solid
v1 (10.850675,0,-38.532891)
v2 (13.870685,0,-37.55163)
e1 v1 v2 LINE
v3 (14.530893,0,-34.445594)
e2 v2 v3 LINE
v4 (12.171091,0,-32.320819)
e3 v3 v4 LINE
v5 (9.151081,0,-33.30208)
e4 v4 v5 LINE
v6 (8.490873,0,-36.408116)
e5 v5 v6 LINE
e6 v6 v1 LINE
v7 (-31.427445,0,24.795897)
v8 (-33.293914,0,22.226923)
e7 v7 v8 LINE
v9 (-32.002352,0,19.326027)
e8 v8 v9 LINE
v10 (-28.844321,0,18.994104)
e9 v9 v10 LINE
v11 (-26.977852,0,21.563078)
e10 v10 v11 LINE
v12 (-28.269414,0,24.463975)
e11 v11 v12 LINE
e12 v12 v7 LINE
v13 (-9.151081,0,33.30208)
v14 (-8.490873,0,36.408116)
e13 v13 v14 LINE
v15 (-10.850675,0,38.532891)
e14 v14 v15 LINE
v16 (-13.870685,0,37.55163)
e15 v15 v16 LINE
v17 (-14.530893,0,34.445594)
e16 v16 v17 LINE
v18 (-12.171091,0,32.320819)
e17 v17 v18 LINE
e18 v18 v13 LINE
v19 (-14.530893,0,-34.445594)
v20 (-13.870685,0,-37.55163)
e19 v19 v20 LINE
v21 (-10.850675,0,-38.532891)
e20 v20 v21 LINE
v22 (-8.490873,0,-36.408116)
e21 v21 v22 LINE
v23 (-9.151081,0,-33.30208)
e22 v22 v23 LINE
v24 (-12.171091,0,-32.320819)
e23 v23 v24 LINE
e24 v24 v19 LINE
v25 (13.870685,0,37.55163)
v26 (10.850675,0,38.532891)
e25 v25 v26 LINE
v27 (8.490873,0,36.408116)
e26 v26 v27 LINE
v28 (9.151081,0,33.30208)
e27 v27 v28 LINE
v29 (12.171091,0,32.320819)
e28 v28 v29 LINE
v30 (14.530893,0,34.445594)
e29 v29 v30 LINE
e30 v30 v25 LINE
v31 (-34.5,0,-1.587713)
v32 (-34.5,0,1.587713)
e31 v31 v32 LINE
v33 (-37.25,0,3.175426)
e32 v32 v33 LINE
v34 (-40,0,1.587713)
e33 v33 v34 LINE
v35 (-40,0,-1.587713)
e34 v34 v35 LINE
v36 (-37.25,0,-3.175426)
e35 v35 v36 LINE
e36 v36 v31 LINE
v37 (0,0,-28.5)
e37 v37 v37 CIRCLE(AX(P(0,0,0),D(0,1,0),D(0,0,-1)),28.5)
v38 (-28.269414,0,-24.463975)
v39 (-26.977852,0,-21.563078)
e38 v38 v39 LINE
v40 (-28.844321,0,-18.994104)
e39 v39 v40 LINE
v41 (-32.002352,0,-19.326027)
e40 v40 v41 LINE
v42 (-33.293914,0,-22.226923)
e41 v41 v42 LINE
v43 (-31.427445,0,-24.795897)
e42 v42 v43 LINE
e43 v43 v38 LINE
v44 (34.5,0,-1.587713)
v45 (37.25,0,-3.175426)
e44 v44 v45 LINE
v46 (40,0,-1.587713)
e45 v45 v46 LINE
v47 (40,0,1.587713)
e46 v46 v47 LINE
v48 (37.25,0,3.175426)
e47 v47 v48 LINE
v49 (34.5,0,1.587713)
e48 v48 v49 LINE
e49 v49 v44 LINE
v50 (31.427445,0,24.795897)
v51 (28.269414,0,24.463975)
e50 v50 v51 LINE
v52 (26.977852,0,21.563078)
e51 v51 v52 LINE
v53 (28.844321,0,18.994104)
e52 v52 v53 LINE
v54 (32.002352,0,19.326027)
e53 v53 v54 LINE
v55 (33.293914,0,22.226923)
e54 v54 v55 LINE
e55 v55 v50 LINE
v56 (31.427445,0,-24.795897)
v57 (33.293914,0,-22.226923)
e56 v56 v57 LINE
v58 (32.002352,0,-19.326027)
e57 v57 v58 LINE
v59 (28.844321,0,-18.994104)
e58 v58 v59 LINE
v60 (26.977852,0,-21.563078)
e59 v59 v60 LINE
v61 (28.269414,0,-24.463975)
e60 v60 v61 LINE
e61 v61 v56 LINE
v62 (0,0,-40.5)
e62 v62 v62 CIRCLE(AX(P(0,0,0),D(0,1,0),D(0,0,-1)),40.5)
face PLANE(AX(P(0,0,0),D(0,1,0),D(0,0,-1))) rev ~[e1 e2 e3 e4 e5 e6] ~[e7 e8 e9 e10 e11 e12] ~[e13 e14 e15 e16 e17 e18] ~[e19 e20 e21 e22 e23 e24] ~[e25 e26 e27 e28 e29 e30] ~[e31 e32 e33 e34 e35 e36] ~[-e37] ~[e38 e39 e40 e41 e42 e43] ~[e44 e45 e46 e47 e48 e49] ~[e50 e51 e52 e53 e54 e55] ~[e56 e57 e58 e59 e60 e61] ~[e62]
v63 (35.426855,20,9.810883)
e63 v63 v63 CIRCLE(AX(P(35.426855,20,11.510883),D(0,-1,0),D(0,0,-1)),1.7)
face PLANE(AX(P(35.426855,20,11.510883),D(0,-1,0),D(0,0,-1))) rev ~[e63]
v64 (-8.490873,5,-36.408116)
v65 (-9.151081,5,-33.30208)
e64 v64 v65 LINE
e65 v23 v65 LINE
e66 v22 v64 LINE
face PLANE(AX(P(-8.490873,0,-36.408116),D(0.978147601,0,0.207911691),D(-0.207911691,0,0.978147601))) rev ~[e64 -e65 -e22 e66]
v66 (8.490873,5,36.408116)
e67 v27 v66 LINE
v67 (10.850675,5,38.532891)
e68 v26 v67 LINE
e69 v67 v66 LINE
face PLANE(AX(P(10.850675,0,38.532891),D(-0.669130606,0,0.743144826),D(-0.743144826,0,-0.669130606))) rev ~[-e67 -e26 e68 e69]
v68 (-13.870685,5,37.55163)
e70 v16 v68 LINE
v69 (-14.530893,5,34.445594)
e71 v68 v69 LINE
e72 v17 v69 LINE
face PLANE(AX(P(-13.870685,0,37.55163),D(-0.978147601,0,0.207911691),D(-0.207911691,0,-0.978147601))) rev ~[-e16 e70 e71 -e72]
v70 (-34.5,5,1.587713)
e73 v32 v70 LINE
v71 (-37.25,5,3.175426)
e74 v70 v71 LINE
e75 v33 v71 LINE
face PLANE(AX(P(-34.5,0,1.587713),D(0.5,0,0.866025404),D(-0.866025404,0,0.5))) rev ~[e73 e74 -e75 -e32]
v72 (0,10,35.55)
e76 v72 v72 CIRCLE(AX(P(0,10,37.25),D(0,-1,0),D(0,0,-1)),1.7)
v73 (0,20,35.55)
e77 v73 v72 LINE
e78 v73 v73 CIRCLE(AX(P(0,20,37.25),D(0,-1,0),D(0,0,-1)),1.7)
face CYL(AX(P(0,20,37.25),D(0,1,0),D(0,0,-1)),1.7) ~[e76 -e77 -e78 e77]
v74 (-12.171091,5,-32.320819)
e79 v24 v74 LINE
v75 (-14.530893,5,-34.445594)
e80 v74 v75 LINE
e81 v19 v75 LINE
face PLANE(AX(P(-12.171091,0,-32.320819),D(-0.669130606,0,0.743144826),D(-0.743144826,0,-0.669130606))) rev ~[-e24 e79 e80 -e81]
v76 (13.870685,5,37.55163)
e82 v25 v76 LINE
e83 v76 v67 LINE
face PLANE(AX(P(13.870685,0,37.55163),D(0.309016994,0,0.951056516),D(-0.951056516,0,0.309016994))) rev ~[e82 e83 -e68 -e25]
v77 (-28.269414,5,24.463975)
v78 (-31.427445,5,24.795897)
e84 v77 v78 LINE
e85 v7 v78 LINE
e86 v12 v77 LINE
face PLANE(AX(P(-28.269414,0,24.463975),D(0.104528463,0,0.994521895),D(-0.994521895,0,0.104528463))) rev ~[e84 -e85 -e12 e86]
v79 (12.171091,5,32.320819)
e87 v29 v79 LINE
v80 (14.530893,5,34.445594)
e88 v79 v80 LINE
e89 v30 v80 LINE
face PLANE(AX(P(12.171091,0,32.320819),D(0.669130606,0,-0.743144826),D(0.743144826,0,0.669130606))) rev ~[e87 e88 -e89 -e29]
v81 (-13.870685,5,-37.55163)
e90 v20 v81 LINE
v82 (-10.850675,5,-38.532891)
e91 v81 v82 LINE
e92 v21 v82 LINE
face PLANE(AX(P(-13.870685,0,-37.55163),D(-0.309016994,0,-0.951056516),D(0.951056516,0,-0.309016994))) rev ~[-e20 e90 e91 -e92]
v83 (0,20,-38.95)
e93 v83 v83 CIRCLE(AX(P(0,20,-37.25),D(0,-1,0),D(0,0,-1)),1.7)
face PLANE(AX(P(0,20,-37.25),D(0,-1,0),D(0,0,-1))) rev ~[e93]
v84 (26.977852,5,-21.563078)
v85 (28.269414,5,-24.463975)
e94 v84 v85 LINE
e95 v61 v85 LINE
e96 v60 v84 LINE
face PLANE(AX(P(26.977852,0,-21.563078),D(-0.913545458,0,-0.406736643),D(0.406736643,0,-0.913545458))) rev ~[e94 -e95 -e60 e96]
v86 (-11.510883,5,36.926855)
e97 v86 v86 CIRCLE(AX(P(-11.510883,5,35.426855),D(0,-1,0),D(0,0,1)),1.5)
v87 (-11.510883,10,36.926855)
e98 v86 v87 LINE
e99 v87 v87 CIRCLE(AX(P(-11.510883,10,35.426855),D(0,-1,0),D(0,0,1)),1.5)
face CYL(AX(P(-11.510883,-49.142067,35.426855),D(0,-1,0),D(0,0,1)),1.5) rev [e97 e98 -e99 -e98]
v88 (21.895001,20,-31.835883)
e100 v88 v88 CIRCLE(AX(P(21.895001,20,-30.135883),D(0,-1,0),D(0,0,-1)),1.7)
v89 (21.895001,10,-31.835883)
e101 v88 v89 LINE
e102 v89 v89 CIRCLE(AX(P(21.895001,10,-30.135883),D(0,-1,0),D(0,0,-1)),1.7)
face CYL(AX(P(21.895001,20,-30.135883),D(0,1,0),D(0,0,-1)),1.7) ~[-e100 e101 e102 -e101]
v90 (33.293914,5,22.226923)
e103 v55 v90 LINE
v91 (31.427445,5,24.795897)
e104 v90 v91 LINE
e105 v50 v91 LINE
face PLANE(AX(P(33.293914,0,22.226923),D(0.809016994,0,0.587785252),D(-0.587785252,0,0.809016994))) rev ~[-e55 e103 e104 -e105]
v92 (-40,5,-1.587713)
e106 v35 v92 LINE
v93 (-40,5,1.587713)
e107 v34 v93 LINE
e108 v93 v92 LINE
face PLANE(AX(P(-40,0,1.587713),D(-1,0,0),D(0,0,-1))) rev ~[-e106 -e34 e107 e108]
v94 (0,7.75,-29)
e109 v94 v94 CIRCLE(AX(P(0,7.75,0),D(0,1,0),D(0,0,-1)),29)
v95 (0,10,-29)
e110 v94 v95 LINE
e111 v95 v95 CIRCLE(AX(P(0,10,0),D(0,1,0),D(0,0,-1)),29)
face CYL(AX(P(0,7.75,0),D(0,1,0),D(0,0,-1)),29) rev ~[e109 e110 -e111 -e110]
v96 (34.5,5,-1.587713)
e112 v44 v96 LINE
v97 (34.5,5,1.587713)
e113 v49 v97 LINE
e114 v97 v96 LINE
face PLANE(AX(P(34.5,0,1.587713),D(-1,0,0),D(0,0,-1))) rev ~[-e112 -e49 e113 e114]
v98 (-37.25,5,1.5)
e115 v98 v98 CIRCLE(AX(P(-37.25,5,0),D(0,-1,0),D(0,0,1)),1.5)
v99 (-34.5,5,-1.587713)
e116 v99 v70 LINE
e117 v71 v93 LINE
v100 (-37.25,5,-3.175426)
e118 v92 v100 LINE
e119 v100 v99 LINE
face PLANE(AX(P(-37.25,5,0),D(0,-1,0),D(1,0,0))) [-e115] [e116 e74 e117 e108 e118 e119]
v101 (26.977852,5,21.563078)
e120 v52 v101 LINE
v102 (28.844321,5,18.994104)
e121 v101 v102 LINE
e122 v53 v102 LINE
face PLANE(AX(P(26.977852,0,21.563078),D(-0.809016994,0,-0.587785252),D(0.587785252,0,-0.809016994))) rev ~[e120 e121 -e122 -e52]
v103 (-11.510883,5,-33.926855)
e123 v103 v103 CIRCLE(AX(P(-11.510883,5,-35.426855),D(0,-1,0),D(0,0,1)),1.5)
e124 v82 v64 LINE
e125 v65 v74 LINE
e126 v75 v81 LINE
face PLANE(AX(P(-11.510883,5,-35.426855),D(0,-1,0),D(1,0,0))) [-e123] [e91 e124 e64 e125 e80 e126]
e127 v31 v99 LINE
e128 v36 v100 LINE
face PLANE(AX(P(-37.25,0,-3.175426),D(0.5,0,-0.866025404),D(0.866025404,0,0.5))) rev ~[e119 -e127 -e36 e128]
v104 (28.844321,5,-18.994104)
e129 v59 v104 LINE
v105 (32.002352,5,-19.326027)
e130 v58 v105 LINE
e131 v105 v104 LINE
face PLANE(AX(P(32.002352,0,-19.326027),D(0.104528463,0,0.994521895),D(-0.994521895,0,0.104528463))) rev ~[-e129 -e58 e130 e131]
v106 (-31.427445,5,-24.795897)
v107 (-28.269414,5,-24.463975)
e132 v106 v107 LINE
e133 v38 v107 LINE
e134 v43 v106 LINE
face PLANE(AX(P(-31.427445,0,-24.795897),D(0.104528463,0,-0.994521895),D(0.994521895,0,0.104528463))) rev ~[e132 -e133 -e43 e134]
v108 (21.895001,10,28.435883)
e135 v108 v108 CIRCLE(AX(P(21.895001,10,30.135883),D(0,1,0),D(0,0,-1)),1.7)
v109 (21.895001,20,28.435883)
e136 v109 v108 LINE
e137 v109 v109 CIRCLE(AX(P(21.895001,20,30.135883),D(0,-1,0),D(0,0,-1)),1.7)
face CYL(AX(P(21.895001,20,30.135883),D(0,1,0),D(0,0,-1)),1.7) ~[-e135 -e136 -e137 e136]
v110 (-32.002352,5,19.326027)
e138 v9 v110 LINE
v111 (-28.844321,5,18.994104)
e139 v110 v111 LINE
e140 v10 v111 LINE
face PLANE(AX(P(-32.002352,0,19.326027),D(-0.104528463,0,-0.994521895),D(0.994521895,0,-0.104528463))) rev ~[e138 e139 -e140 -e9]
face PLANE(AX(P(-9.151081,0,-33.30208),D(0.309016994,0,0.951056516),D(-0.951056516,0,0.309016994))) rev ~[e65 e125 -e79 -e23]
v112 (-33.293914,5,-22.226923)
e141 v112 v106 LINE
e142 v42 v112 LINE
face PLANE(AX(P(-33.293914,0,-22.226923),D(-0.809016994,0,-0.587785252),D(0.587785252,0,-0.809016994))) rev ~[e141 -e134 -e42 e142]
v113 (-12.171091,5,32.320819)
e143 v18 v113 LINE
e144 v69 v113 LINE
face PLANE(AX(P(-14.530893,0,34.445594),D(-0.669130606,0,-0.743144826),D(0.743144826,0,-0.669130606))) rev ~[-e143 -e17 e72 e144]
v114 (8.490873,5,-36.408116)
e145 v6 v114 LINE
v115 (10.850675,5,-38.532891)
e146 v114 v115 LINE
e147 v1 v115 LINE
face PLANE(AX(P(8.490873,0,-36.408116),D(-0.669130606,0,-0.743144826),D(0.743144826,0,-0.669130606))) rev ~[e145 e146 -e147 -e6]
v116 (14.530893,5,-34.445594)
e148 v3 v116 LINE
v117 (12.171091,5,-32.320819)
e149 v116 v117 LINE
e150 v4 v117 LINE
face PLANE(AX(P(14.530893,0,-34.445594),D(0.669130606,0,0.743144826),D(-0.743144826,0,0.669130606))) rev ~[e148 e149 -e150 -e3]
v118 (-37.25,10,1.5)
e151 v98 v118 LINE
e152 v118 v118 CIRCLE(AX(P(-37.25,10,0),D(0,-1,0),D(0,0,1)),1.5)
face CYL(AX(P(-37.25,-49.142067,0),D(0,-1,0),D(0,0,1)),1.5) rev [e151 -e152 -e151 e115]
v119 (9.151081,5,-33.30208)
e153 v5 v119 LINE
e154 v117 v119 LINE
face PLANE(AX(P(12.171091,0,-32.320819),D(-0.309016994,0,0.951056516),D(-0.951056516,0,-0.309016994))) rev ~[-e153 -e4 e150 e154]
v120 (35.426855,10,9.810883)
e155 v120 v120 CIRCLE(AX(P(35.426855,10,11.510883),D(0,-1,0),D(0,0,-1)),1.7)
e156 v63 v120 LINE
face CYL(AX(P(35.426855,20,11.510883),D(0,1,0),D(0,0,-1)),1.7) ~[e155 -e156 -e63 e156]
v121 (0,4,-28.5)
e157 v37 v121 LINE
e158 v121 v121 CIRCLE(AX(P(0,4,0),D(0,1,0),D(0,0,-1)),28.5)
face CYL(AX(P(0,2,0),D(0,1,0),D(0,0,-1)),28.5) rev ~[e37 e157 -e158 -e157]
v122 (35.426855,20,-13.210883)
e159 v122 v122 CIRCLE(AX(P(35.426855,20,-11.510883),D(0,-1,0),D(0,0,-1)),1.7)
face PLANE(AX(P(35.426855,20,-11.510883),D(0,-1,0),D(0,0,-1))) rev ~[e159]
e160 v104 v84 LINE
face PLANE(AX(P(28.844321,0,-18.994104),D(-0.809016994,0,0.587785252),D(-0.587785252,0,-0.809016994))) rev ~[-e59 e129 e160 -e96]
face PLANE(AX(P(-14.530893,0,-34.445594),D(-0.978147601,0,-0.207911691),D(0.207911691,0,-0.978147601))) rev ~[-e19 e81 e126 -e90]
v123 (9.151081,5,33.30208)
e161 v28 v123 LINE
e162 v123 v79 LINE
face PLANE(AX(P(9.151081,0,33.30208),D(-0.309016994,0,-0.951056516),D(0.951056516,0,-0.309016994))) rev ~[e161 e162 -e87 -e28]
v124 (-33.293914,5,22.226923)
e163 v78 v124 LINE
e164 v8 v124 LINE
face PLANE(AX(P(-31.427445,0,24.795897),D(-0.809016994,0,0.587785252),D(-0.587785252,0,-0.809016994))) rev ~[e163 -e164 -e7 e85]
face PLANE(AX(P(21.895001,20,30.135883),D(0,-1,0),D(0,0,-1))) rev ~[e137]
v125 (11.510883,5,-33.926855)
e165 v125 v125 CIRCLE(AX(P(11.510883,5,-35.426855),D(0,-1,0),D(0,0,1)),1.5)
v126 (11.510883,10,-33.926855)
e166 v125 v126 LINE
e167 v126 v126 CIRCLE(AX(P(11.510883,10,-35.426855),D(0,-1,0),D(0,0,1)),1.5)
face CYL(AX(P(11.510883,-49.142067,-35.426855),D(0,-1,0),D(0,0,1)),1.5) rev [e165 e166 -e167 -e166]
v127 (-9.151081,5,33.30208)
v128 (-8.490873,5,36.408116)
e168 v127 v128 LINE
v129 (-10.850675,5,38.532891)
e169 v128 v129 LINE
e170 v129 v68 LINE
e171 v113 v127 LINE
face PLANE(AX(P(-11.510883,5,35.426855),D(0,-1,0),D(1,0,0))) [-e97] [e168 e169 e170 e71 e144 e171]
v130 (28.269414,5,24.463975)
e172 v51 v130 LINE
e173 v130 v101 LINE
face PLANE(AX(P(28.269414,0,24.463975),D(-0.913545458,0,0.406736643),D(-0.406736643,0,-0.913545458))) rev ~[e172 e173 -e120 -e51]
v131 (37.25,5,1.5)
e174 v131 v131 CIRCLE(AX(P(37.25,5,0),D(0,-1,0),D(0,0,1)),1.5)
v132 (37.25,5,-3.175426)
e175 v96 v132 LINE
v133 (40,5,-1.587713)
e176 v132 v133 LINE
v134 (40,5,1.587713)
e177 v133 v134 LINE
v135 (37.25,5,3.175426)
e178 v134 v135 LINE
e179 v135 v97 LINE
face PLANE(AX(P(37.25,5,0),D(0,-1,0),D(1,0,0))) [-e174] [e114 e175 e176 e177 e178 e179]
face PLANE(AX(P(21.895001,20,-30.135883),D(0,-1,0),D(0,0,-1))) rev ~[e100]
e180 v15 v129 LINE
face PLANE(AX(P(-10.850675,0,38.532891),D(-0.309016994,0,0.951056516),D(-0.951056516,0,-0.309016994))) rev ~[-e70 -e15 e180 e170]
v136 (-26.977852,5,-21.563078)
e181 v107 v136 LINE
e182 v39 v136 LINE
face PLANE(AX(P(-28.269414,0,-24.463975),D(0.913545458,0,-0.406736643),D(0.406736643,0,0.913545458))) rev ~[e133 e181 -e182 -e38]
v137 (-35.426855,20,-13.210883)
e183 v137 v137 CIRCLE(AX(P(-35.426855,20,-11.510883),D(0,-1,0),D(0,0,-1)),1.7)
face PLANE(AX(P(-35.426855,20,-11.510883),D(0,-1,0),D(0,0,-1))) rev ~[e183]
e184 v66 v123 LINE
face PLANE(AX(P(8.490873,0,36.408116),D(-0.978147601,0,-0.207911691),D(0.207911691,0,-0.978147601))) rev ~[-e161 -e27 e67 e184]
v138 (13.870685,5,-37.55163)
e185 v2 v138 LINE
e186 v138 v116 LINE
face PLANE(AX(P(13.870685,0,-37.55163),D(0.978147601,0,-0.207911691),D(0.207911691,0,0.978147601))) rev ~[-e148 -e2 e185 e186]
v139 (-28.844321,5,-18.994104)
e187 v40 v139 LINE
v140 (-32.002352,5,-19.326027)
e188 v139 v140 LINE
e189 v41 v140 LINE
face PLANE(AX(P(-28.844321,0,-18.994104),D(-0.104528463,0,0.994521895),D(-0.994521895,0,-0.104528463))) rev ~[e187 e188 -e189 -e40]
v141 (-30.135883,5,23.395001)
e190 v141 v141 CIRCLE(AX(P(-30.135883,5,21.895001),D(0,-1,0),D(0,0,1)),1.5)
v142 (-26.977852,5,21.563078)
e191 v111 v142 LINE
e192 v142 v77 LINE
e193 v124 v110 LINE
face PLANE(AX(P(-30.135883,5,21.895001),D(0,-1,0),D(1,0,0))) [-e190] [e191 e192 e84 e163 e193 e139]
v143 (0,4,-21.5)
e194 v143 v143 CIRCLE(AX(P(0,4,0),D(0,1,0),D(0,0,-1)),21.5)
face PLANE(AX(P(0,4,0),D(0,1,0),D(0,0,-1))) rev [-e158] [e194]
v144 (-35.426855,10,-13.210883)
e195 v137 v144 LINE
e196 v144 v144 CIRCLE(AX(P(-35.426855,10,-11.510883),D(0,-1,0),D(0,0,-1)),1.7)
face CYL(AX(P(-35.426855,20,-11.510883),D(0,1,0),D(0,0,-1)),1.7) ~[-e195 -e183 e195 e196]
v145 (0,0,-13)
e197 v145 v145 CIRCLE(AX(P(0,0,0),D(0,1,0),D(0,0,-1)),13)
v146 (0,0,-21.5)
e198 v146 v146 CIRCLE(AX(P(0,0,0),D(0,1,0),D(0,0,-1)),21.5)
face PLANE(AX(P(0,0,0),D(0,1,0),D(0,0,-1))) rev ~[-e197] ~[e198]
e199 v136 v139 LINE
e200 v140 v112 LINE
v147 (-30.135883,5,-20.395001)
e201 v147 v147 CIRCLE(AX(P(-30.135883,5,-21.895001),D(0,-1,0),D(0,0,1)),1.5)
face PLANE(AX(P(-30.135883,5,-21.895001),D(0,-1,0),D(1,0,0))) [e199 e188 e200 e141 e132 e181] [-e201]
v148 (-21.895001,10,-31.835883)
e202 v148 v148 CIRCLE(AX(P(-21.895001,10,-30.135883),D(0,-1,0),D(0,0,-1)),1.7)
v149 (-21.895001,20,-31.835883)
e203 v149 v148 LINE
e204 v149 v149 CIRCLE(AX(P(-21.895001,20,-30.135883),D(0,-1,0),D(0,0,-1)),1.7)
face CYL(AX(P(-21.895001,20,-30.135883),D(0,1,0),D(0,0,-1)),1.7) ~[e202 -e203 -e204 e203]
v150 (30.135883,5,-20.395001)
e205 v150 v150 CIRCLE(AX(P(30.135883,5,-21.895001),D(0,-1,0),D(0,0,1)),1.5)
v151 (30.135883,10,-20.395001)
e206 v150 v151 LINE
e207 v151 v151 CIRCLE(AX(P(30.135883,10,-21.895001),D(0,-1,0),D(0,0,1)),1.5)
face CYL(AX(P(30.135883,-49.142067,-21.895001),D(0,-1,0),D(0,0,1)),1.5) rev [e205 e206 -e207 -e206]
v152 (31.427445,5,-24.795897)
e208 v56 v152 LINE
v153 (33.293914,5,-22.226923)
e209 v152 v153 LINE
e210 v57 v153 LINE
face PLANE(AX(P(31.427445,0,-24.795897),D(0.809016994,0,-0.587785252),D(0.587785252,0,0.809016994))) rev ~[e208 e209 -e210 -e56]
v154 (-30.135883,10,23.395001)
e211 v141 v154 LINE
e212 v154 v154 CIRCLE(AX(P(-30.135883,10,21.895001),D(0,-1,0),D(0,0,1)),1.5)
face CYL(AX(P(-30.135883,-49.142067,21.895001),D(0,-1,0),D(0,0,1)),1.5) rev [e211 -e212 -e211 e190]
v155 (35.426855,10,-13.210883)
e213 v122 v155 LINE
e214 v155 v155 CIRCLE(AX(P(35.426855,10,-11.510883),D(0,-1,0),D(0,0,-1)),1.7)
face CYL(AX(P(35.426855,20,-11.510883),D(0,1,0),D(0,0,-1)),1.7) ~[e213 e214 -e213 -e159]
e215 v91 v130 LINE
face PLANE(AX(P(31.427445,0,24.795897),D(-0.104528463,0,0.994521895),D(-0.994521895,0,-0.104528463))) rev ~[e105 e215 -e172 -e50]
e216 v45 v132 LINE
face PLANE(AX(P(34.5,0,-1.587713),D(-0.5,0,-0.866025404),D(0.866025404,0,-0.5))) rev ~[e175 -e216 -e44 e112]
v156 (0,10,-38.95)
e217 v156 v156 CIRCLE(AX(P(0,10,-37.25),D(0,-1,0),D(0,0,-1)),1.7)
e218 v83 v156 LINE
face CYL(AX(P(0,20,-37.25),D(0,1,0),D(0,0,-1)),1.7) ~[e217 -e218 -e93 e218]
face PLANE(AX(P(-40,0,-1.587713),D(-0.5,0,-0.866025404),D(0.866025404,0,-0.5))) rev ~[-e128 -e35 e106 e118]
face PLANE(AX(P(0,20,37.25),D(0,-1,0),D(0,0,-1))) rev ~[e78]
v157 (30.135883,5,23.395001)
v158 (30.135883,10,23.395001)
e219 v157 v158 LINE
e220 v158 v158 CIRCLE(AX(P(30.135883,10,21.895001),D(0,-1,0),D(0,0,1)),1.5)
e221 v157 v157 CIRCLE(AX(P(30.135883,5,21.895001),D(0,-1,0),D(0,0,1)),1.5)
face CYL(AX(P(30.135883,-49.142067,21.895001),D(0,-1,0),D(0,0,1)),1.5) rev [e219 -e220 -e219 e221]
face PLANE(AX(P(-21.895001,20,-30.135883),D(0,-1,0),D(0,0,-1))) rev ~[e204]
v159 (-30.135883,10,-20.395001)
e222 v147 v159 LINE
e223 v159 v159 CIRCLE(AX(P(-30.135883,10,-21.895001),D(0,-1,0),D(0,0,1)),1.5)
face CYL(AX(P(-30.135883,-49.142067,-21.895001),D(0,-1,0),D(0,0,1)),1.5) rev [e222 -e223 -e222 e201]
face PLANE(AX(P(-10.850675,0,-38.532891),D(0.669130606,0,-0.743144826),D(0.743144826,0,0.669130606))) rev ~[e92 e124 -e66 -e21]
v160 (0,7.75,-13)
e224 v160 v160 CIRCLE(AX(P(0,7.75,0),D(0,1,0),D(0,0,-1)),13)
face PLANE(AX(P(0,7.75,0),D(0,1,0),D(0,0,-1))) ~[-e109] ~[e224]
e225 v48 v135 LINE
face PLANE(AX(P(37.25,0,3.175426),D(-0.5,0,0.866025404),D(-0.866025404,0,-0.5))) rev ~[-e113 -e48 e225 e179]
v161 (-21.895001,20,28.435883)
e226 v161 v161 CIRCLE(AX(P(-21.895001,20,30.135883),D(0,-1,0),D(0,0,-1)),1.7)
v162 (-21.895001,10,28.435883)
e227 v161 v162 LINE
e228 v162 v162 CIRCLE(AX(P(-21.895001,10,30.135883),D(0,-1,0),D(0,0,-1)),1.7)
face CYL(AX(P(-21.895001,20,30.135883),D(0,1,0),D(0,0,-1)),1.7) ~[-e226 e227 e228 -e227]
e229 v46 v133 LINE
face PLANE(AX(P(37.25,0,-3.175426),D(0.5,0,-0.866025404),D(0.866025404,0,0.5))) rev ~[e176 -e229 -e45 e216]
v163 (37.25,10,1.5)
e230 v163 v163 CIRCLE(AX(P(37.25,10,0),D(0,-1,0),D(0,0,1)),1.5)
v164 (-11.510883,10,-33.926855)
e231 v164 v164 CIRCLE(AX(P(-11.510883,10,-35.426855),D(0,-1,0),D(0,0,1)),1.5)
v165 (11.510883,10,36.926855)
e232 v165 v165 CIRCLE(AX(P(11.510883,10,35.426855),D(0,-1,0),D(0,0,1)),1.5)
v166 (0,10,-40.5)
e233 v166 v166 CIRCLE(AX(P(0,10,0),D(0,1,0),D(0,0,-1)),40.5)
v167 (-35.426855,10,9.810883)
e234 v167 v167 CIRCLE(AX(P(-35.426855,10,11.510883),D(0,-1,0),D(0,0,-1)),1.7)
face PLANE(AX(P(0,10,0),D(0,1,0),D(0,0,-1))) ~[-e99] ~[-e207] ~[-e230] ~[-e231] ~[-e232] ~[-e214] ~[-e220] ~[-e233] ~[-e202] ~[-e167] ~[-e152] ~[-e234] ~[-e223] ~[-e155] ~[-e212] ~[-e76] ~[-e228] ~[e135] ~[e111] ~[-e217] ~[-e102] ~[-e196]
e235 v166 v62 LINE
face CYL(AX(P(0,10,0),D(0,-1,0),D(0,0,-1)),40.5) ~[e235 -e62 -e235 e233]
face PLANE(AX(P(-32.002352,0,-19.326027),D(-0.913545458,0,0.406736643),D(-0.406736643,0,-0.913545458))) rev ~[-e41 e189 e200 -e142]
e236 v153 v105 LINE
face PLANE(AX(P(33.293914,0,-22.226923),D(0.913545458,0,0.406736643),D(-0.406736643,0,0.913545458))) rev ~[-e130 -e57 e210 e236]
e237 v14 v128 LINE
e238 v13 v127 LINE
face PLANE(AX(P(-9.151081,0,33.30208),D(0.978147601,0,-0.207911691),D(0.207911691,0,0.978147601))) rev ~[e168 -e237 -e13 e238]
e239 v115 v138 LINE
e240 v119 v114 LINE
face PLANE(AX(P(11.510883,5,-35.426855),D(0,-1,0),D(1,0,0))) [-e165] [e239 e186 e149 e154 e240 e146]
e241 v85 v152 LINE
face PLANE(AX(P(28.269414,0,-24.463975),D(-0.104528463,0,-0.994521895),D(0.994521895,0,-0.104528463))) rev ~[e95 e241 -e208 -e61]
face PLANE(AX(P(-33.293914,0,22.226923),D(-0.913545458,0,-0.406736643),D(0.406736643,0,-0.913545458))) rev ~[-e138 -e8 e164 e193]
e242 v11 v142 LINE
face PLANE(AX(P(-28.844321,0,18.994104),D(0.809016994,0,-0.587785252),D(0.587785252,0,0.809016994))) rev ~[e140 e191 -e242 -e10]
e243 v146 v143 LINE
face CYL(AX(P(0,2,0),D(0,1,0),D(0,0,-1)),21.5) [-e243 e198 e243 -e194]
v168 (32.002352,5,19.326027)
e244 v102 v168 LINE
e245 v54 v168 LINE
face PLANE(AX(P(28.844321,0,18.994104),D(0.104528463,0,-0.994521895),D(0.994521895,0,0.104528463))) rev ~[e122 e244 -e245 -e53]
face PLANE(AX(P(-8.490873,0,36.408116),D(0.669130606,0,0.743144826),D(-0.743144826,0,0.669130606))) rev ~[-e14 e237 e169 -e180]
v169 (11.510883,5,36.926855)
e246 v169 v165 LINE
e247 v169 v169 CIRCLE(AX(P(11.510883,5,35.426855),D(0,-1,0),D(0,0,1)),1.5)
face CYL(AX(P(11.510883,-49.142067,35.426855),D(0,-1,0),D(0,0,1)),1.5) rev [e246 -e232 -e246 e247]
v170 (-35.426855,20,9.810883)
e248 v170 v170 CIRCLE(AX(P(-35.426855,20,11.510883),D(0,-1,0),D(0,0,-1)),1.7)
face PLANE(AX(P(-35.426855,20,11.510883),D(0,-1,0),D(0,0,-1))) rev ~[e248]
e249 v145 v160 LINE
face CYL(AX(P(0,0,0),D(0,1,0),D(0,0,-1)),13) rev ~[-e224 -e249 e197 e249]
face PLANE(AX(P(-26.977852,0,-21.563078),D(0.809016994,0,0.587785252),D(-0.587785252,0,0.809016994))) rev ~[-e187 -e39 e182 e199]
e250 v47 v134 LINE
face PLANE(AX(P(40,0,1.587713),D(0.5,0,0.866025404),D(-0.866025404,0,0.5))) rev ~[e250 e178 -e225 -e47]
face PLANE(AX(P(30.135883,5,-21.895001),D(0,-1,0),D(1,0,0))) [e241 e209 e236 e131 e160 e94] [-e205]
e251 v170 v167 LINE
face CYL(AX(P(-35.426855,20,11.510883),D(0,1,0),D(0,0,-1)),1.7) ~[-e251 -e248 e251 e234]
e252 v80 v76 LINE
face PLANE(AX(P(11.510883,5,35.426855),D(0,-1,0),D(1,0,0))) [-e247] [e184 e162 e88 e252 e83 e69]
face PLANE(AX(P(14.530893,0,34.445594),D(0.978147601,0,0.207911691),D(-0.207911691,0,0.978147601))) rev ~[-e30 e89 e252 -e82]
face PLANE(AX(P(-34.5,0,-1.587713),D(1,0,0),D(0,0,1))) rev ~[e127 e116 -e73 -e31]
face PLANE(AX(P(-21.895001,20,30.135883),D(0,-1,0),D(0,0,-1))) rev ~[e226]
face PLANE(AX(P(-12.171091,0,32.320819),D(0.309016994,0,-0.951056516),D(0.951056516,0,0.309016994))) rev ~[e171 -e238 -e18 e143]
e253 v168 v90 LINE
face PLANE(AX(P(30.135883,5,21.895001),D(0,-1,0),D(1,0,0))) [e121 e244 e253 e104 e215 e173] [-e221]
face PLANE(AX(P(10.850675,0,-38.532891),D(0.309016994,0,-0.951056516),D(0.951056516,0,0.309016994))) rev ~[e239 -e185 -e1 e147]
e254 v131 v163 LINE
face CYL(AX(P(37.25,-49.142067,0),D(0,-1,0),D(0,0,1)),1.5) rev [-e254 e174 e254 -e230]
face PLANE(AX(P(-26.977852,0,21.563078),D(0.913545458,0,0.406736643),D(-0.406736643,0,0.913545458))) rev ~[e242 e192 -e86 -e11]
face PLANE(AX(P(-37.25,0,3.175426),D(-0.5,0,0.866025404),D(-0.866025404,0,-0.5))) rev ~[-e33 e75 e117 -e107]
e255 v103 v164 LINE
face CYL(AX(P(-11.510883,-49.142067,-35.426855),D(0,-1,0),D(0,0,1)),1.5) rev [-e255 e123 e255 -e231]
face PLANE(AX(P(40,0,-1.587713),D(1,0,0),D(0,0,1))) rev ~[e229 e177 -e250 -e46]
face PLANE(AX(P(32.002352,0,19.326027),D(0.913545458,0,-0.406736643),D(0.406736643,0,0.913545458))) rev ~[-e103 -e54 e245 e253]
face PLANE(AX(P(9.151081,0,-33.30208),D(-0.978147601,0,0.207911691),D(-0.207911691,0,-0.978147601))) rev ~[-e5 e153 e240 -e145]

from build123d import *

# Parameters (mm, degrees)
CUT_EXTRUDE1_DEPTH      = 59.142067387
CUT_EXTRUDE1_DEPTH_BACK = 59.142067387
SKETCH2_R               = 1.7
SKETCH2_R_2             = 1.5
SKETCH3_W               = 7
SKETCH3_H               = 4
CUT_EXTRUDE2_DEPTH      = 5
BOSS_EXTRUDE1_START     = -20
SKETCH5_R               = 1.7
BOSS_EXTRUDE1_DEPTH     = 20


with BuildPart() as part:
    # Sketch1 → Revolve1 (revolve)
    with BuildSketch(Plane.XY, mode=Mode.PRIVATE) as revolve1_sk:
        Polygon((-29, 10), (-40.5, 10), (-40.5, 0), (-13, 0), (-13, 7.75), (-29, 7.75), align=None)
    revolve(revolve1_sk.sketch.rotate(Axis((0, -1.751877994, 0), (0, 1, 0)), 270), axis=Axis((0, -1.751877994, 0), (0, 1, 0)))

    # Sketch2 → Cut-Extrude1 (cut, two sides: drawn at the far end of the back side and taken through both)
    with BuildSketch(Plane(origin=(0, 10, 0), x_dir=(1, 0, 0), z_dir=(0, 1, 0)).offset(-CUT_EXTRUDE1_DEPTH_BACK)):
        with Locations(Location((0, 37.25, 0), (0, 0, 270))):
            Circle(SKETCH2_R)
        with Locations(Location((11.51088304, 35.426855232, 0), (0, 0, 270))):
            Circle(SKETCH2_R_2)
        with Locations(Location((21.895000648, 30.13588304, 0), (0, 0, 270))):
            Circle(SKETCH2_R)
        with Locations(Location((30.13588304, 21.895000648, 0), (0, 0, 270))):
            Circle(SKETCH2_R_2)
        with Locations(Location((35.426855232, 11.51088304, 0), (0, 0, 270))):
            Circle(SKETCH2_R)
        with Locations(Location((37.25, 0, 0), (0, 0, 270))):
            Circle(SKETCH2_R_2)
        with Locations(Location((35.426855232, -11.51088304, 0), (0, 0, 270))):
            Circle(SKETCH2_R)
        with Locations(Location((30.13588304, -21.895000648, 0), (0, 0, 270))):
            Circle(SKETCH2_R_2)
        with Locations(Location((21.895000648, -30.13588304, 0), (0, 0, 270))):
            Circle(SKETCH2_R)
        with Locations(Location((11.51088304, -35.426855232, 0), (0, 0, 270))):
            Circle(SKETCH2_R_2)
        with Locations(Location((0, -37.25, 0), (0, 0, 270))):
            Circle(SKETCH2_R)
        with Locations(Location((-11.51088304, -35.426855232, 0), (0, 0, 270))):
            Circle(SKETCH2_R_2)
        with Locations(Location((-21.895000648, -30.13588304, 0), (0, 0, 270))):
            Circle(SKETCH2_R)
        with Locations(Location((-30.13588304, -21.895000648, 0), (0, 0, 270))):
            Circle(SKETCH2_R_2)
        with Locations(Location((-35.426855232, -11.51088304, 0), (0, 0, 270))):
            Circle(SKETCH2_R)
        with Locations(Location((-37.25, 0, 0), (0, 0, 270))):
            Circle(SKETCH2_R_2)
        with Locations(Location((-35.426855232, 11.51088304, 0), (0, 0, 270))):
            Circle(SKETCH2_R)
        with Locations(Location((-30.13588304, 21.895000648, 0), (0, 0, 270))):
            Circle(SKETCH2_R_2)
        with Locations(Location((-21.895000648, 30.13588304, 0), (0, 0, 270))):
            Circle(SKETCH2_R)
        with Locations(Location((-11.51088304, 35.426855232, 0), (0, 0, 270))):
            Circle(SKETCH2_R_2)
    extrude(amount=CUT_EXTRUDE1_DEPTH + CUT_EXTRUDE1_DEPTH_BACK, mode=Mode.SUBTRACT)

    # Sketch3 → Cut-Revolve1 (revolve, cut)
    with BuildSketch(Plane.XY, mode=Mode.PRIVATE) as cut_revolve1_sk:
        with Locations((25, 2)):
            Rectangle(SKETCH3_W, SKETCH3_H)
    revolve(cut_revolve1_sk.sketch.rotate(Axis((0, -19.065406541, 0), (0, 1, 0)), 90), axis=Axis((0, -19.065406541, 0), (0, 1, 0)), mode=Mode.SUBTRACT)

    # Sketch4 → Cut-Extrude2 (cut)
    with BuildSketch(Plane.XZ):
        Polygon((10.850674752, 38.532891025), (8.490872994, 36.408115979), (9.151081283, 33.302080186), (12.171091329, 32.320819439), (14.530893087, 34.445594485), (13.870684798, 37.551630278), align=None)
        Polygon((33.293914202, 22.226923098), (31.427445347, 24.795897085), (28.269414185, 24.463974635), (26.977851878, 21.563078198), (28.844320733, 18.994104211), (32.002351895, 19.326026661), align=None)
        Polygon((40, -1.58771324), (40, 1.58771324), (37.25, 3.175426481), (34.5, 1.58771324), (34.5, -1.58771324), (37.25, -3.175426481), align=None)
        Polygon((31.427445347, -24.795897085), (33.293914202, -22.226923098), (32.002351895, -19.326026661), (28.844320733, -18.994104211), (26.977851878, -21.563078198), (28.269414185, -24.463974635), align=None)
        Polygon((10.850674752, -38.532891025), (13.870684798, -37.551630278), (14.530893087, -34.445594485), (12.171091329, -32.320819439), (9.151081283, -33.302080186), (8.490872994, -36.408115979), align=None)
        Polygon((-13.870684798, -37.551630278), (-10.850674752, -38.532891025), (-8.490872994, -36.408115979), (-9.151081283, -33.302080186), (-12.171091329, -32.320819439), (-14.530893087, -34.445594485), align=None)
        Polygon((-33.293914202, -22.226923098), (-31.427445347, -24.795897085), (-28.269414185, -24.463974635), (-26.977851878, -21.563078198), (-28.844320733, -18.994104211), (-32.002351895, -19.326026661), align=None)
        Polygon((-40, 1.58771324), (-40, -1.58771324), (-37.25, -3.175426481), (-34.5, -1.58771324), (-34.5, 1.58771324), (-37.25, 3.175426481), align=None)
        Polygon((-31.427445347, 24.795897085), (-33.293914202, 22.226923098), (-32.002351895, 19.326026661), (-28.844320733, 18.994104211), (-26.977851878, 21.563078198), (-28.269414185, 24.463974635), align=None)
        Polygon((-10.850674752, 38.532891025), (-13.870684798, 37.551630278), (-14.530893087, 34.445594485), (-12.171091329, 32.320819439), (-9.151081283, 33.302080186), (-8.490872994, 36.408115979), align=None)
    extrude(amount=-CUT_EXTRUDE2_DEPTH, mode=Mode.SUBTRACT)

    # Sketch5 → Boss-Extrude1 (add)
    with BuildSketch(Plane.XZ.offset(BOSS_EXTRUDE1_START)):
        with Locations(Location((21.895000648, 30.13588304, 0), (0, 0, 270))):
            Circle(SKETCH5_R)
        with Locations(Location((35.426855232, 11.51088304, 0), (0, 0, 270))):
            Circle(SKETCH5_R)
        with Locations(Location((35.426855232, -11.51088304, 0), (0, 0, 270))):
            Circle(SKETCH5_R)
        with Locations(Location((21.895000648, -30.13588304, 0), (0, 0, 270))):
            Circle(SKETCH5_R)
        with Locations(Location((0, -37.25, 0), (0, 0, 270))):
            Circle(SKETCH5_R)
        with Locations(Location((-35.426855232, 11.51088304, 0), (0, 0, 270))):
            Circle(SKETCH5_R)
        with Locations(Location((-21.895000648, 30.13588304, 0), (0, 0, 270))):
            Circle(SKETCH5_R)
        with Locations(Location((0, 37.25, 0), (0, 0, 270))):
            Circle(SKETCH5_R)
        with Locations(Location((-21.895000648, -30.13588304, 0), (0, 0, 270))):
            Circle(SKETCH5_R)
        with Locations(Location((-35.426855232, -11.51088304, 0), (0, 0, 270))):
            Circle(SKETCH5_R)
    extrude(amount=BOSS_EXTRUDE1_DEPTH)


solid = part.part
